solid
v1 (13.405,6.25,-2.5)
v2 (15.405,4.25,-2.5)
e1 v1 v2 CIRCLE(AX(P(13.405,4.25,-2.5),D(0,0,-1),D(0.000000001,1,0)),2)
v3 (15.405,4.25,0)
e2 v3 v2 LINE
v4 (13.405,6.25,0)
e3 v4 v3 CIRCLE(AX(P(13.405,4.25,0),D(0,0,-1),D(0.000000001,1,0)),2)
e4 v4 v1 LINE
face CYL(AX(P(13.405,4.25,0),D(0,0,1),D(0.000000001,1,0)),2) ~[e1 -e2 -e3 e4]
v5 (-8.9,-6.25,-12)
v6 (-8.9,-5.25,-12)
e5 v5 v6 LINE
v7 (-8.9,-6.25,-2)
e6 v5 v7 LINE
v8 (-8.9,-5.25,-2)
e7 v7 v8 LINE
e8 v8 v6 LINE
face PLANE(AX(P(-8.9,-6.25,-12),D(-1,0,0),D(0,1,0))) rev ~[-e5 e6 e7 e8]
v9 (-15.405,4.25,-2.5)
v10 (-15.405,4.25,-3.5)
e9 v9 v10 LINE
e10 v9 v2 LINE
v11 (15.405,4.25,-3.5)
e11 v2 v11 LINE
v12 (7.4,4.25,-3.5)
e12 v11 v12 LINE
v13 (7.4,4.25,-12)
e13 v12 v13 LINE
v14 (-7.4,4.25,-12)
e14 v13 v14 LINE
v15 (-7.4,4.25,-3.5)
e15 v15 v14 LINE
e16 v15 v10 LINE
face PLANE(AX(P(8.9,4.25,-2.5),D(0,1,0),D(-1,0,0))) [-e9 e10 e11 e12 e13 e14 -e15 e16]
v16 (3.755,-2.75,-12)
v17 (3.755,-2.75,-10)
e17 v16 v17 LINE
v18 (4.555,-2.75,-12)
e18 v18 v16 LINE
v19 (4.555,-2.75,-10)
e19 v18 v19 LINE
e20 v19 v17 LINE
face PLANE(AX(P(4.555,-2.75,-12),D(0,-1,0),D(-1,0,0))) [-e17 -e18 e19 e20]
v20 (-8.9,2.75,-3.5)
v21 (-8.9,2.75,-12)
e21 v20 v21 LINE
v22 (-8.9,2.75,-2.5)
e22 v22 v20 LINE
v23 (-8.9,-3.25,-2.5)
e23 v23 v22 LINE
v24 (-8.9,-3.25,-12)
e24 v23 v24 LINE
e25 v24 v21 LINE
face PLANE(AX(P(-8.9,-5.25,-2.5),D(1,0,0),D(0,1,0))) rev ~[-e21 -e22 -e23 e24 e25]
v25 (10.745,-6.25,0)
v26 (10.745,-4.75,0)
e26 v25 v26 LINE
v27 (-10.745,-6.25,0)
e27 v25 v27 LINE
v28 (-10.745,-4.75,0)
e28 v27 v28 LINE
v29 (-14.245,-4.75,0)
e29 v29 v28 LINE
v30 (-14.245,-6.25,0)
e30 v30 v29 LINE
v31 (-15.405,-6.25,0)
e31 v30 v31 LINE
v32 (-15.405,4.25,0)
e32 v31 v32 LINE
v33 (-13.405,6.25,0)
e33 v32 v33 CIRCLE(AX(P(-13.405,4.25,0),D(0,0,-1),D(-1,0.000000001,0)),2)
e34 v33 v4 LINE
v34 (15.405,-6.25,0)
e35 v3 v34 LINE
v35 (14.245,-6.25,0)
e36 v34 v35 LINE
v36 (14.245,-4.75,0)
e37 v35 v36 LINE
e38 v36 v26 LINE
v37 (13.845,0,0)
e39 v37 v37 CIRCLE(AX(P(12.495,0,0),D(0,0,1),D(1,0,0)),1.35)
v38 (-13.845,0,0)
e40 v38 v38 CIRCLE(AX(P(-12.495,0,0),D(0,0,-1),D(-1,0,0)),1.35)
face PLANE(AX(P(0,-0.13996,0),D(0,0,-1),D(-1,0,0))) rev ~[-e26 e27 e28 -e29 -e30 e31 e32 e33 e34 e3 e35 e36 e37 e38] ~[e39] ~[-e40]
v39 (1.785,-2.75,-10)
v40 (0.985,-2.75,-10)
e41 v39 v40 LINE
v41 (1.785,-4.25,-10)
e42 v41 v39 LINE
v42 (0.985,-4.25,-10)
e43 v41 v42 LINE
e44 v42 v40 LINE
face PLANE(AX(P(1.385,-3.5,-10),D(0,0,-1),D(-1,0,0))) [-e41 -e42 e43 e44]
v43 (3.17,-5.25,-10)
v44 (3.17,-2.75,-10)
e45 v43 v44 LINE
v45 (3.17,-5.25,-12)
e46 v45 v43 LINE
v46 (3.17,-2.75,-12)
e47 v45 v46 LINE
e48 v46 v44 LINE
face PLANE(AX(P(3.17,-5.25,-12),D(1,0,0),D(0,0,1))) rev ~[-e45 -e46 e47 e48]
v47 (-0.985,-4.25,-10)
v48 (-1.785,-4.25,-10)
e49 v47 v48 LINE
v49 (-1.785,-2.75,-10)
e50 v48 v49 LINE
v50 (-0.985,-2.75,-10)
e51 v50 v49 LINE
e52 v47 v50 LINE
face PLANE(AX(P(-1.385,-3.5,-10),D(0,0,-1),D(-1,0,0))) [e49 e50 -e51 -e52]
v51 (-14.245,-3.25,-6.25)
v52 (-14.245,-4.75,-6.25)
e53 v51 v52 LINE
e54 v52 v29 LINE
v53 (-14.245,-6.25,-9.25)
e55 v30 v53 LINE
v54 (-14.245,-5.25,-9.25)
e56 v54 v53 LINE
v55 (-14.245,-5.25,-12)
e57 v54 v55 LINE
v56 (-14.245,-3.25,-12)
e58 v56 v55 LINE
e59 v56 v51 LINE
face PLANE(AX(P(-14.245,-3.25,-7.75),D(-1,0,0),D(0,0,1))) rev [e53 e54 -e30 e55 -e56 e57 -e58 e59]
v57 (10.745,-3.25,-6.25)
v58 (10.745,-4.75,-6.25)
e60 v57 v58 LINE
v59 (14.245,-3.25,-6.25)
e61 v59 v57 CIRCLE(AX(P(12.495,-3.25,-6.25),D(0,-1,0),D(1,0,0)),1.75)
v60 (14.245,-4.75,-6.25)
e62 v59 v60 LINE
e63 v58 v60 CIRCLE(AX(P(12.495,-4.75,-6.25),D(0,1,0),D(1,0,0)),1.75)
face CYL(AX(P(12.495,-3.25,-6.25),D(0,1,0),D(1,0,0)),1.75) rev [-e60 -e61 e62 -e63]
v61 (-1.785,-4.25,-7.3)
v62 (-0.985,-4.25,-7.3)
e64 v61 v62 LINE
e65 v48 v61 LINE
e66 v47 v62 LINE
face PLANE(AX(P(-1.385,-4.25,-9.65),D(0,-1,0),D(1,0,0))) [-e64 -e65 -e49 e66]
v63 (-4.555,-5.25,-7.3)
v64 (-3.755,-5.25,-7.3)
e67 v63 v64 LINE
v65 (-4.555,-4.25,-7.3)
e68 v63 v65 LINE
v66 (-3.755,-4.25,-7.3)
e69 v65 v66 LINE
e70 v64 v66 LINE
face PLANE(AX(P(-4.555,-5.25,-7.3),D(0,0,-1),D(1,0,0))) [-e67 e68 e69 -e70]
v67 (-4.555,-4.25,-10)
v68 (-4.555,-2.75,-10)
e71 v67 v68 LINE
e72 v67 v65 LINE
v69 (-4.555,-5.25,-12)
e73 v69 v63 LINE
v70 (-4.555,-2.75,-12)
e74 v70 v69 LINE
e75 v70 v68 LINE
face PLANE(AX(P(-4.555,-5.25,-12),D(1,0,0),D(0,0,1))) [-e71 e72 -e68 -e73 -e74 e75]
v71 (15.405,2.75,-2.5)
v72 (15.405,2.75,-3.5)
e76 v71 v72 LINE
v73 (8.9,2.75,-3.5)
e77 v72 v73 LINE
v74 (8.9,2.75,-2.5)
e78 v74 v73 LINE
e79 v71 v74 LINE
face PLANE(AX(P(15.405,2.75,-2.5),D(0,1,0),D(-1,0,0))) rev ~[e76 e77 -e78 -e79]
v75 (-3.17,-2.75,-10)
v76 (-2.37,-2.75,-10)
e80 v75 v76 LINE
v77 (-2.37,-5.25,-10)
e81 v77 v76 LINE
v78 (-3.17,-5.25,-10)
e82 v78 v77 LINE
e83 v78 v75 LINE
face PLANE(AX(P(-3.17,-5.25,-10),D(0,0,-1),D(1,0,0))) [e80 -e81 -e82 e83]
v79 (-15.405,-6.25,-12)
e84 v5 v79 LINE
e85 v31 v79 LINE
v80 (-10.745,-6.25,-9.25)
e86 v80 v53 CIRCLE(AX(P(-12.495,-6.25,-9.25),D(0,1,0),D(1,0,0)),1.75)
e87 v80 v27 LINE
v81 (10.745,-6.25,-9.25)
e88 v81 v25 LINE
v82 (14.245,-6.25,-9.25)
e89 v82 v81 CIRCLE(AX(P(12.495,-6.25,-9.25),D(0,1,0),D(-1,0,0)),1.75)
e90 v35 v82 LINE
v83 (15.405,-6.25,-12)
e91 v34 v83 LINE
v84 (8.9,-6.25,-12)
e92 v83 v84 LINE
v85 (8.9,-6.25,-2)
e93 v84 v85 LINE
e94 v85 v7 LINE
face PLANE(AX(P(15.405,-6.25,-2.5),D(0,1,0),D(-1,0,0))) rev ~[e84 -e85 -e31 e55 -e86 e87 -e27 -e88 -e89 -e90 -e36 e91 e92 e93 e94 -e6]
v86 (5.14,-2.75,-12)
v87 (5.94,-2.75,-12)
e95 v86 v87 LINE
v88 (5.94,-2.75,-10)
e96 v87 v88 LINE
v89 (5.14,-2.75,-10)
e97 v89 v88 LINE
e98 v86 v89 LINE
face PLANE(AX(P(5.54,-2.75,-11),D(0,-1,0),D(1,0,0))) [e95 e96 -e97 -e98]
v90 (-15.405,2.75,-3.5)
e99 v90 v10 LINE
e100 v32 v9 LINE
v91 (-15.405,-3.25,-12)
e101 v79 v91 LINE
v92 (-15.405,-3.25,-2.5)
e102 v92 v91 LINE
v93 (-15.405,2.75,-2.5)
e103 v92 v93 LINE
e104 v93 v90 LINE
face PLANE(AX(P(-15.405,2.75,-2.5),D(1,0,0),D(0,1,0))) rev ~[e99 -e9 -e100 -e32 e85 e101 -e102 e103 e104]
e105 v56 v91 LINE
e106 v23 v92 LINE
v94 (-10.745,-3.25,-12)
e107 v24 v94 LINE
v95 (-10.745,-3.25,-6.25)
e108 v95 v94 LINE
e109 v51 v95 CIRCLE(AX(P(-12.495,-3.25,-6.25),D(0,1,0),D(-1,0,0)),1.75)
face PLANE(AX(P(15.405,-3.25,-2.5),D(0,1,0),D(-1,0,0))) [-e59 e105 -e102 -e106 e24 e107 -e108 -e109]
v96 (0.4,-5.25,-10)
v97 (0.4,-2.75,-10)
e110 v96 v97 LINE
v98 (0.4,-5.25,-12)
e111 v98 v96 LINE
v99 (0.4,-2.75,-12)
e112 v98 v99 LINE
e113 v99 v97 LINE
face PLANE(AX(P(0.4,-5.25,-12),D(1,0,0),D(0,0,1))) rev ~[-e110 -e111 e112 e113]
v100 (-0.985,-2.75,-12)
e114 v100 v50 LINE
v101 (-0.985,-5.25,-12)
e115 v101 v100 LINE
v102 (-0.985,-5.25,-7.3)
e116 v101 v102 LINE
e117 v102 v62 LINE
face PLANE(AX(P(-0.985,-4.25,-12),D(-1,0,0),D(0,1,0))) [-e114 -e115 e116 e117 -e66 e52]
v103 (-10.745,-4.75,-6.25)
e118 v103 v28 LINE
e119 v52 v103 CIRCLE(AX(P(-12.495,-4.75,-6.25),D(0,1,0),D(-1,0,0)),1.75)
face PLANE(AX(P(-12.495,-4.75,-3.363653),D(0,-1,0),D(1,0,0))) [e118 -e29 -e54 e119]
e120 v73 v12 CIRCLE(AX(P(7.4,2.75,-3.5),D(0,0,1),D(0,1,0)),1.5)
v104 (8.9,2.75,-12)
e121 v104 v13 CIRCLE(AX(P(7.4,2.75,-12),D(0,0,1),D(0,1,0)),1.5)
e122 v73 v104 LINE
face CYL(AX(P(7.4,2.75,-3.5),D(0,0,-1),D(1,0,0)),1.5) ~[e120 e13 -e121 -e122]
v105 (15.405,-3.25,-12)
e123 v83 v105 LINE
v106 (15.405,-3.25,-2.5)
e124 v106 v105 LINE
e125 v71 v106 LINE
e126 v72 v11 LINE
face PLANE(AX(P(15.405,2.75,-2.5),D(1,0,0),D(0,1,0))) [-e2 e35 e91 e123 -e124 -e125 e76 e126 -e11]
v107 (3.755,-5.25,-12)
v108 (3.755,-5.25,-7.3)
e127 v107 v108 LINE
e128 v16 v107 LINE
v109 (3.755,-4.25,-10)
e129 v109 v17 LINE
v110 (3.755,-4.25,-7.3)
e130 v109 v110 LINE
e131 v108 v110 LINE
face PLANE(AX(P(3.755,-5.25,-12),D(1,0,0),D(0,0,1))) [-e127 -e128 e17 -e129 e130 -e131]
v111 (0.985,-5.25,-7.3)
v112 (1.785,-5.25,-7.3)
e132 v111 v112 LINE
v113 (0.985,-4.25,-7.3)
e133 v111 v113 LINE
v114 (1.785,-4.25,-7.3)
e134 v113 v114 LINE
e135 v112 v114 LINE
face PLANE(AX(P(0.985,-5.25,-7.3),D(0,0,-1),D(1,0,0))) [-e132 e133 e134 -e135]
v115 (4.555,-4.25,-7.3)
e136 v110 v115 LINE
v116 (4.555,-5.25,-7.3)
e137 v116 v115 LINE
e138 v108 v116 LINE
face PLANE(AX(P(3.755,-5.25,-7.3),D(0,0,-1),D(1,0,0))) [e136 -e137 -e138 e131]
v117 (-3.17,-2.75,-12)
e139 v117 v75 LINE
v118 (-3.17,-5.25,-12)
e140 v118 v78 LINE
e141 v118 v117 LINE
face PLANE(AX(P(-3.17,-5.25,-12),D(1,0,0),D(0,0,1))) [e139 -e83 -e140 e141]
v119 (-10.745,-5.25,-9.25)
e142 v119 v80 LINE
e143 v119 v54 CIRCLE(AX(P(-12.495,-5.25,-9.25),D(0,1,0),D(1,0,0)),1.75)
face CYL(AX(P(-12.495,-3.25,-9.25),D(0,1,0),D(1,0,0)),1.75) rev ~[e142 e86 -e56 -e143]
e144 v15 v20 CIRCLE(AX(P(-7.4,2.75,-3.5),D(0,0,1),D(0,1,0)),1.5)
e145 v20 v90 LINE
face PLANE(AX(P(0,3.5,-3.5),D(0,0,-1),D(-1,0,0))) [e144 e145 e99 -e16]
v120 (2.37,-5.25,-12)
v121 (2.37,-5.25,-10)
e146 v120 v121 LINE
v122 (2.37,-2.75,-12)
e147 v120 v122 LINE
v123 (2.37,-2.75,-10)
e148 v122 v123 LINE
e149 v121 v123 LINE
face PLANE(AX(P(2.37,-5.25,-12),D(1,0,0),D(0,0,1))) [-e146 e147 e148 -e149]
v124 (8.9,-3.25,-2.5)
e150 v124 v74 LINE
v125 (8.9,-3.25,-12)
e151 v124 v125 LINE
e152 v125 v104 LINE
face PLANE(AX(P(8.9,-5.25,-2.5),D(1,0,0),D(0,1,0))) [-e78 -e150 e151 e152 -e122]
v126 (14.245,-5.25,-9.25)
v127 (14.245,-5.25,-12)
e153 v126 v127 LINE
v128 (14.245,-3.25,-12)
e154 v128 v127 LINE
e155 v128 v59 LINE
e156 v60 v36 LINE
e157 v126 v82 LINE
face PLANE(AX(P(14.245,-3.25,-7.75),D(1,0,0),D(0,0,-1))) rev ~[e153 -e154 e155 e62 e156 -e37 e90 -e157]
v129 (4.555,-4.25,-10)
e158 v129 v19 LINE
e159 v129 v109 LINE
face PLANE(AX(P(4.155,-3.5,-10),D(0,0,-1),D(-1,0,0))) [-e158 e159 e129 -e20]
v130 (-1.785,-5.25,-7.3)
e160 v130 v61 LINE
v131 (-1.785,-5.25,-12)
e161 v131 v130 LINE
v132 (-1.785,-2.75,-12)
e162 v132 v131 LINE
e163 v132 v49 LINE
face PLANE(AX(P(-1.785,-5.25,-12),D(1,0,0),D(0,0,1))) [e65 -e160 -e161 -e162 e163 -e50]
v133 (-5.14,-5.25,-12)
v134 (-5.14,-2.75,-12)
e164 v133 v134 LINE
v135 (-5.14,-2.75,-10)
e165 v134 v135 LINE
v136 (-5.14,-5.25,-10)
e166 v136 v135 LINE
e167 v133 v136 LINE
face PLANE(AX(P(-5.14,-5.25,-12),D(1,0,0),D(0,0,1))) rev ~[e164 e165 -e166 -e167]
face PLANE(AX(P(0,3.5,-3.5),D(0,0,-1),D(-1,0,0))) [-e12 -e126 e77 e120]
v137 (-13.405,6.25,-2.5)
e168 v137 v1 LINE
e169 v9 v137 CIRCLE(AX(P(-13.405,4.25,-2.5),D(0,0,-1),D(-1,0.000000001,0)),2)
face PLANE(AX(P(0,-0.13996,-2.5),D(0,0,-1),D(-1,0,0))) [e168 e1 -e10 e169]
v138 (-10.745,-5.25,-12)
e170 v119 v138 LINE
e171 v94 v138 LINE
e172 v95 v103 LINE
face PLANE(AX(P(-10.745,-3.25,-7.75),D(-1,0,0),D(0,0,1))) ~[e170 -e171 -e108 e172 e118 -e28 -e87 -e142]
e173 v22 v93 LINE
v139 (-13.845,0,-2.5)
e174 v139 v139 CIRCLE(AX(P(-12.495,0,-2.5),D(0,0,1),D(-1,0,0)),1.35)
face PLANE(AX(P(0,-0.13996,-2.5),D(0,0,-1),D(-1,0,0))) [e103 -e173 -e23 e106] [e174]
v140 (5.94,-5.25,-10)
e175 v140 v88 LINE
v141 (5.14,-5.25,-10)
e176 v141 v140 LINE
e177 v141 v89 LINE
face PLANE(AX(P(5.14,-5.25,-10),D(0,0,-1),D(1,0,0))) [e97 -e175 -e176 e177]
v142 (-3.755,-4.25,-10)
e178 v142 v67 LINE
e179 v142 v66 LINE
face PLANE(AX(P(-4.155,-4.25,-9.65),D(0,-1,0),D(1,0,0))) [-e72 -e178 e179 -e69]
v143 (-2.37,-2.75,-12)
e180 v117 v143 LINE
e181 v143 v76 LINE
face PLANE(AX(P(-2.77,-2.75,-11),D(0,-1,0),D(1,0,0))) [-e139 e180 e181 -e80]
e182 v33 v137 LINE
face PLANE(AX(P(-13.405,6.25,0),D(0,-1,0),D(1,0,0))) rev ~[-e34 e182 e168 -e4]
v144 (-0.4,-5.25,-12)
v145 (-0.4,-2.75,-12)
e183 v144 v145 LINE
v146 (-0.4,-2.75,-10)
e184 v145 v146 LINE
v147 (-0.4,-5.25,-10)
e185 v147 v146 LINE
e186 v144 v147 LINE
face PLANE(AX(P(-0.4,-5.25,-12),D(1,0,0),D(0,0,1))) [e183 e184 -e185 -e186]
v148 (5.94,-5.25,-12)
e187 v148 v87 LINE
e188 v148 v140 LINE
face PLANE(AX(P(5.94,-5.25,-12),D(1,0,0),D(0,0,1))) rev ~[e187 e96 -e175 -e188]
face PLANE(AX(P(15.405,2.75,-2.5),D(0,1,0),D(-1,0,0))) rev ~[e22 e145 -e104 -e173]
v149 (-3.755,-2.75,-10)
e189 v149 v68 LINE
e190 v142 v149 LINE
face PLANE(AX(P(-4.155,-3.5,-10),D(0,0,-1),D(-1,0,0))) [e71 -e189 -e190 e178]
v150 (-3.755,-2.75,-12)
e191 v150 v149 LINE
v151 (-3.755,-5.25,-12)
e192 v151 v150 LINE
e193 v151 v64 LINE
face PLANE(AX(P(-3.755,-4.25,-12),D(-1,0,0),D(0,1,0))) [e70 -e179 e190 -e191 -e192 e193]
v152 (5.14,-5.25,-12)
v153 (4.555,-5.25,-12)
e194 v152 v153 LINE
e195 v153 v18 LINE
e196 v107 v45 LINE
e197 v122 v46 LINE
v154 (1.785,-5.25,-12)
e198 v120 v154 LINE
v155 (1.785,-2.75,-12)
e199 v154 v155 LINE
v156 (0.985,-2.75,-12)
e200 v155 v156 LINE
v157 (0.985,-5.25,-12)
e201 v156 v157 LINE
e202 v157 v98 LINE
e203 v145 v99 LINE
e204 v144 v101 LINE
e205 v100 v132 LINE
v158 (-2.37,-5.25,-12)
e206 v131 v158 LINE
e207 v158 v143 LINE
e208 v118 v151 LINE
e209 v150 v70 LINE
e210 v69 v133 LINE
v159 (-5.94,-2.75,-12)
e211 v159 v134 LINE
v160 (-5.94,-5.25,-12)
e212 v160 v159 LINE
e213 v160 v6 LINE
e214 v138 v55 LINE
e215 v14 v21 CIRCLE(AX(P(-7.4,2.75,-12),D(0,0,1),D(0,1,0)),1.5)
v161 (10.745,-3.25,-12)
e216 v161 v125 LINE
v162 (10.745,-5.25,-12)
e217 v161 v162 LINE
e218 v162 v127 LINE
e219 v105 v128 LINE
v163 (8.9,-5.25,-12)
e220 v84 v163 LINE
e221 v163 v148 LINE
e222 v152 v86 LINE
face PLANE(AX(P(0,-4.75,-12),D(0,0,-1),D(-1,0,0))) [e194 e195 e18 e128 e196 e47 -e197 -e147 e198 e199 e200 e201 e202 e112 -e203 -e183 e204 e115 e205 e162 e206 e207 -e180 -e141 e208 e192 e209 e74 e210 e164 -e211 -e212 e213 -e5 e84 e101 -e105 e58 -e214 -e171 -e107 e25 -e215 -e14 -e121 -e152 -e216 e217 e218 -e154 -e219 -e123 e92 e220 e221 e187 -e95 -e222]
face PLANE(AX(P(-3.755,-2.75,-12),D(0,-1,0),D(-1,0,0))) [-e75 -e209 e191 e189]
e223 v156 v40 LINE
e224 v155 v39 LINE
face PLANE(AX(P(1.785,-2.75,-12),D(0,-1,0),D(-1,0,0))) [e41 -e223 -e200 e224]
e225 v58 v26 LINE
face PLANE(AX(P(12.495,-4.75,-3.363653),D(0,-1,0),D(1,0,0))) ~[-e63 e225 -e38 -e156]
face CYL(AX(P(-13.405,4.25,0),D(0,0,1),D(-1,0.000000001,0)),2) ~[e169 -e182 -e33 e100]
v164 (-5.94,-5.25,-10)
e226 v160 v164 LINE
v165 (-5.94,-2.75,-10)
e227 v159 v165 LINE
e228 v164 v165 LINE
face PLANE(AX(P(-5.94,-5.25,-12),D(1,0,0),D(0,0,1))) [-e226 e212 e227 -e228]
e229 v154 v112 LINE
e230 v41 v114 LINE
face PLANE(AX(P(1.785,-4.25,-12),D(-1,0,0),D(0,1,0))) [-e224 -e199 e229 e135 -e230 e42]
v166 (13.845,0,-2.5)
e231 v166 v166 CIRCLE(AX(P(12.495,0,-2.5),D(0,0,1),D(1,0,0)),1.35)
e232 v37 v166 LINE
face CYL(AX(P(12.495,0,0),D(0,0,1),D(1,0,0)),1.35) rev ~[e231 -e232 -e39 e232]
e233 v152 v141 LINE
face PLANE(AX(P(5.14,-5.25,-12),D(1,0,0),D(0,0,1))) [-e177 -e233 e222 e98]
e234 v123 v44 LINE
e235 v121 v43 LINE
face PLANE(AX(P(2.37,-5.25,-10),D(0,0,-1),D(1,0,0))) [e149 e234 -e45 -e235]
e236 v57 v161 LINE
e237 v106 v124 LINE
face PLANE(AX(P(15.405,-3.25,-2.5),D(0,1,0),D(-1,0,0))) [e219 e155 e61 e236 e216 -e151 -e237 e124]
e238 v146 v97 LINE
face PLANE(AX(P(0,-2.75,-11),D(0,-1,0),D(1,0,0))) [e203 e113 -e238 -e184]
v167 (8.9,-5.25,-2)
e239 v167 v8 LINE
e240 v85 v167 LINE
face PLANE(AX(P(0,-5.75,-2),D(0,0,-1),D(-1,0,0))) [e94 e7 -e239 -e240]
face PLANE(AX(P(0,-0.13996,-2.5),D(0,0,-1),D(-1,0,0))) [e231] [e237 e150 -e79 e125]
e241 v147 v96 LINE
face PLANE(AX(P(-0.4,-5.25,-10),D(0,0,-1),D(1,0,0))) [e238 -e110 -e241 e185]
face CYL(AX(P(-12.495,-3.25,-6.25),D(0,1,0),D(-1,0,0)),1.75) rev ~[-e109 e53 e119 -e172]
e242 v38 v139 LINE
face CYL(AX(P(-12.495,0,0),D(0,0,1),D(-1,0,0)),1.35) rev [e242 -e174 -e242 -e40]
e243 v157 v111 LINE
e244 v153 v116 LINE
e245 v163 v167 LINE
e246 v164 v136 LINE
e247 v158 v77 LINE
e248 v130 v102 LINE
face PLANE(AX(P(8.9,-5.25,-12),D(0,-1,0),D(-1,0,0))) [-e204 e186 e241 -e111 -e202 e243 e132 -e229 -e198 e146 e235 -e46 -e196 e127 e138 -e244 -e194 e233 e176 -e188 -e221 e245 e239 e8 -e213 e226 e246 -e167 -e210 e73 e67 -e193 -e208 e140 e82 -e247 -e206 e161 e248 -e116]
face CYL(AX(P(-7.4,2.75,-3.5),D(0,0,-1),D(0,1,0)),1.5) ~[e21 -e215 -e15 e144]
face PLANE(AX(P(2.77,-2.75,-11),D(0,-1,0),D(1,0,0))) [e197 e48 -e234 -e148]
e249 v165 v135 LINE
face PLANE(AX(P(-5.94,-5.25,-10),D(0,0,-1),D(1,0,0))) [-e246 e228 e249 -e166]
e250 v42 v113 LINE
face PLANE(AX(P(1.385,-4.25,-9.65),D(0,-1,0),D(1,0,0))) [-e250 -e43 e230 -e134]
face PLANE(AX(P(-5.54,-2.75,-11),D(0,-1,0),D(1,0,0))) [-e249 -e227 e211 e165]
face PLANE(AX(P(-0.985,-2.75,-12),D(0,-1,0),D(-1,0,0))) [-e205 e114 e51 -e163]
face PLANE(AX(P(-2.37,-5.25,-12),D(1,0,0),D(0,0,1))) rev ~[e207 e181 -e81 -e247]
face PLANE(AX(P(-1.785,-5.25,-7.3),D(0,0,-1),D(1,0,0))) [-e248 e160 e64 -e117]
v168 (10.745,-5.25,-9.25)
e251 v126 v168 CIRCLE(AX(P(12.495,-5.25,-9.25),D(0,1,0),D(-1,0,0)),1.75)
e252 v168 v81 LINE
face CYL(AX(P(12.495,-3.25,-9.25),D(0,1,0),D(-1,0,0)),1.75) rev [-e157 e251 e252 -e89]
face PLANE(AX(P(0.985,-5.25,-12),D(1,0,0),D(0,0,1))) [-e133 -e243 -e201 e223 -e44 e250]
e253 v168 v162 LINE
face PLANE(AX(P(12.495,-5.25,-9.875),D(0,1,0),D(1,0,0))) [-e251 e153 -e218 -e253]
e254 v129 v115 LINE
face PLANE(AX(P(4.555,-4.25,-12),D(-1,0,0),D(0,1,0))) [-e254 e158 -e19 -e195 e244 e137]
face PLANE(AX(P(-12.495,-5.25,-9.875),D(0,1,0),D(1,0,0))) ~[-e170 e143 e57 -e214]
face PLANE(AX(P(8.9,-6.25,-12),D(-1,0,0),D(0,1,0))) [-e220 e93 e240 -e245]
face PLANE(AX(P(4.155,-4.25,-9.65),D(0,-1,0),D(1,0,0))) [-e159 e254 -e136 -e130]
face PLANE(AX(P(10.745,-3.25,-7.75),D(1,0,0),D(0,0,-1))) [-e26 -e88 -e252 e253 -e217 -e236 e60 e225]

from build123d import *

# Parameters (mm, degrees)
RESSALTO_EXTRUS_O1_DEPTH = 2.5
ESBO_O2_W                = 30.81
ESBO_O2_H                = 3
RESSALTO_EXTRUS_O2_DEPTH = 9.5
ESBO_O3_W                = 17.8
ESBO_O3_H                = 1
CORTE_EXTRUS_O1_DEPTH    = 10
ESBO_O4_W                = 30.81
ESBO_O4_H                = 1.5
RESSALTO_EXTRUS_O3_DEPTH = 1
ESBO_O5_W                = 17.8
ESBO_O5_H                = 9.5
RESSALTO_EXTRUS_O4_DEPTH = 9.5
FILETE1_R                = 1.5
CORTE_EXTRUS_O2_DEPTH    = 22.715524976
ESBO_O7_W                = 3.5
ESBO_O7_H                = 4.25
CORTE_EXTRUS_O3_DEPTH    = 2
ESBO_O8_W                = 3.5
ESBO_O8_H                = 6.727306506
CORTE_EXTRUS_O4_DEPTH    = 1.5
ESBO_O9_R                = 1.35
CORTE_EXTRUS_O5_DEPTH    = 21.503085743
ESBO_O10_W               = 0.8
ESBO_O10_H               = 2
CORTE_EXTRUS_O6_DEPTH    = 2.5
PADR_O_LINEAR1_COUNT     = 3
PADR_O_LINEAR1_PITCH     = 2.77
PADR_O_LINEAR1_COL_COUNT = 3
PADR_O_LINEAR1_COL_PITCH = 2.77
ESBO_O11_W               = 0.8
ESBO_O11_H               = 4.7
CORTE_EXTRUS_O7_DEPTH    = 1
ESBO_O12_W               = 0.8
ESBO_O12_H               = 1.5
CORTE_EXTRUS_O8_DEPTH    = 2
PADR_O_LINEAR2_COUNT     = 4
PADR_O_LINEAR2_PITCH     = 2.77


with BuildPart() as part:
    # Esboço1 → Ressalto-extrusão1 (new body)
    with BuildSketch(Plane.XY):
        with BuildLine():
            Line((-13.405, 6.25), (13.405, 6.25))
            ThreePointArc((13.405, 6.25), (14.819213562, 5.664213562), (15.405, 4.25))
            Line((15.405, 4.25), (15.405, -6.25))
            Line((15.405, -6.25), (-15.405, -6.25))
            Line((-15.405, -6.25), (-15.405, 4.25))
            ThreePointArc((-15.405, 4.25), (-14.819213562, 5.664213562), (-13.405, 6.25))
        make_face()
    extrude(amount=-RESSALTO_EXTRUS_O1_DEPTH)

    # Esboço2 → Ressalto-extrusão2 (add)
    with BuildSketch(Plane(origin=(0, 0, -2.5), x_dir=(-1, 0, 0), z_dir=(0, 0, -1))):
        with Locations((0, -4.75)):
            Rectangle(ESBO_O2_W, ESBO_O2_H)
    extrude(amount=RESSALTO_EXTRUS_O2_DEPTH)

    # Esboço3 → Corte-extrusão1 (cut)
    with BuildSketch(Plane(origin=(0, 0, -12), x_dir=(-1, 0, 0), z_dir=(0, 0, -1))):
        with Locations((0, -5.75)):
            Rectangle(ESBO_O3_W, ESBO_O3_H)
    extrude(amount=-CORTE_EXTRUS_O1_DEPTH, mode=Mode.SUBTRACT)

    # Esboço4 → Ressalto-extrusão3 (add)
    with BuildSketch(Plane(origin=(0, 0, -2.5), x_dir=(-1, 0, 0), z_dir=(0, 0, -1))):
        with Locations((0, 3.5)):
            Rectangle(ESBO_O4_W, ESBO_O4_H)
    extrude(amount=RESSALTO_EXTRUS_O3_DEPTH)

    # Esboço5 → Ressalto-extrusão4 (add)
    with BuildSketch(Plane(origin=(0, 0, -2.5), x_dir=(-1, 0, 0), z_dir=(0, 0, -1))):
        with Locations((0, -0.5)):
            Rectangle(ESBO_O5_W, ESBO_O5_H)
    extrude(amount=RESSALTO_EXTRUS_O4_DEPTH)

    # Filete1
    filete1_edges = [part.edges().sort_by_distance(p)[0] for p in [
        (8.9, 4.25, -7.75),
        (-8.9, 4.25, -7.75),
    ]]
    fillet(filete1_edges, radius=FILETE1_R)

    # Esboço6 → Corte-extrusão2 (cut, through all)
    with BuildSketch(Plane(origin=(0, -3.25, 0), x_dir=(1, 0, 0), z_dir=(0, 1, 0))):
        with BuildLine():
            Line((10.745, 6.25), (10.745, 9.25))
            ThreePointArc((10.745, 9.25), (12.495, 11), (14.245, 9.25))
            Line((14.245, 9.25), (14.245, 6.25))
            ThreePointArc((14.245, 6.25), (12.495, 4.5), (10.745, 6.25))
        make_face()
    corte_extrus_o2 = extrude(amount=-CORTE_EXTRUS_O2_DEPTH, mode=Mode.SUBTRACT)

    # Espelhar1: Corte-extrusão2 across plane
    add(corte_extrus_o2.mirror(Plane(origin=(0, 0, 0), x_dir=(0, 0, 1), z_dir=(1, 0, 0))), mode=Mode.SUBTRACT)

    # Esboço7 → Corte-extrusão3 (cut)
    with BuildSketch(Plane(origin=(0, -3.25, 0), x_dir=(1, 0, 0), z_dir=(0, 1, 0))):
        with Locations((12.495, 9.875)):
            Rectangle(ESBO_O7_W, ESBO_O7_H)
    corte_extrus_o3 = extrude(amount=-CORTE_EXTRUS_O3_DEPTH, mode=Mode.SUBTRACT)

    # Espelhar2: Corte-extrusão3 across plane
    add(corte_extrus_o3.mirror(Plane(origin=(0, 0, 0), x_dir=(0, 0, 1), z_dir=(1, 0, 0))), mode=Mode.SUBTRACT)

    # Esboço8 → Corte-extrusão4 (cut)
    with BuildSketch(Plane.XZ.offset(6.25)):
        with Locations((-12.495, -3.363653253)):
            Rectangle(ESBO_O8_W, ESBO_O8_H)
    corte_extrus_o4 = extrude(amount=-CORTE_EXTRUS_O4_DEPTH, mode=Mode.SUBTRACT)

    # Espelhar3: Corte-extrusão3, Corte-extrusão4 across plane
    add(corte_extrus_o3.mirror(Plane(origin=(0, 0, 0), x_dir=(0, 0, 1), z_dir=(1, 0, 0))), mode=Mode.SUBTRACT)
    add(corte_extrus_o4.mirror(Plane(origin=(0, 0, 0), x_dir=(0, 0, 1), z_dir=(1, 0, 0))), mode=Mode.SUBTRACT)

    # Esboço9 → Corte-extrusão5 (cut, through all)
    with BuildSketch(Plane.XY):
        with Locations((12.495, 0)):
            Circle(ESBO_O9_R)
    corte_extrus_o5 = extrude(amount=-CORTE_EXTRUS_O5_DEPTH, mode=Mode.SUBTRACT)

    # Espelhar4: Corte-extrusão5 across plane
    add(corte_extrus_o5.mirror(Plane(origin=(0, 0, 0), x_dir=(0, 0, 1), z_dir=(1, 0, 0))), mode=Mode.SUBTRACT)

    # Esboço10 → Corte-extrusão6 (cut)
    with BuildSketch(Plane.XZ.offset(5.25)):
        with Locations((0, -11)):
            Rectangle(ESBO_O10_W, ESBO_O10_H)
    corte_extrus_o6 = extrude(amount=-CORTE_EXTRUS_O6_DEPTH, mode=Mode.SUBTRACT)

    # Padrão linear1: Corte-extrusão6 ×3
    with Locations(*[(-i * PADR_O_LINEAR1_PITCH, 0, 0) for i in range(1, PADR_O_LINEAR1_COUNT)]):
        add(corte_extrus_o6, mode=Mode.SUBTRACT)

    # Padrão linear1 col: Corte-extrusão6 ×3
    with Locations(*[(i * PADR_O_LINEAR1_COL_PITCH, 0, 0) for i in range(1, PADR_O_LINEAR1_COL_COUNT)]):
        add(corte_extrus_o6, mode=Mode.SUBTRACT)

    # Esboço11 → Corte-extrusão7 (cut)
    with BuildSketch(Plane.XZ.offset(5.25)):
        with Locations((4.155, -9.65)):
            Rectangle(ESBO_O11_W, ESBO_O11_H)
    corte_extrus_o7 = extrude(amount=-CORTE_EXTRUS_O7_DEPTH, mode=Mode.SUBTRACT)

    # Esboço12 → Corte-extrusão8 (cut)
    with BuildSketch(Plane(origin=(0, 0, -12), x_dir=(-1, 0, 0), z_dir=(0, 0, -1))):
        with Locations((-4.155, -3.5)):
            Rectangle(ESBO_O12_W, ESBO_O12_H)
    corte_extrus_o8 = extrude(amount=-CORTE_EXTRUS_O8_DEPTH, mode=Mode.SUBTRACT)

    # Padrão linear2: Corte-extrusão7, Corte-extrusão8 ×4
    with Locations(*[(-i * PADR_O_LINEAR2_PITCH, 0, 0) for i in range(1, PADR_O_LINEAR2_COUNT)]):
        add(corte_extrus_o7, mode=Mode.SUBTRACT)
        add(corte_extrus_o8, mode=Mode.SUBTRACT)


solid = part.part
